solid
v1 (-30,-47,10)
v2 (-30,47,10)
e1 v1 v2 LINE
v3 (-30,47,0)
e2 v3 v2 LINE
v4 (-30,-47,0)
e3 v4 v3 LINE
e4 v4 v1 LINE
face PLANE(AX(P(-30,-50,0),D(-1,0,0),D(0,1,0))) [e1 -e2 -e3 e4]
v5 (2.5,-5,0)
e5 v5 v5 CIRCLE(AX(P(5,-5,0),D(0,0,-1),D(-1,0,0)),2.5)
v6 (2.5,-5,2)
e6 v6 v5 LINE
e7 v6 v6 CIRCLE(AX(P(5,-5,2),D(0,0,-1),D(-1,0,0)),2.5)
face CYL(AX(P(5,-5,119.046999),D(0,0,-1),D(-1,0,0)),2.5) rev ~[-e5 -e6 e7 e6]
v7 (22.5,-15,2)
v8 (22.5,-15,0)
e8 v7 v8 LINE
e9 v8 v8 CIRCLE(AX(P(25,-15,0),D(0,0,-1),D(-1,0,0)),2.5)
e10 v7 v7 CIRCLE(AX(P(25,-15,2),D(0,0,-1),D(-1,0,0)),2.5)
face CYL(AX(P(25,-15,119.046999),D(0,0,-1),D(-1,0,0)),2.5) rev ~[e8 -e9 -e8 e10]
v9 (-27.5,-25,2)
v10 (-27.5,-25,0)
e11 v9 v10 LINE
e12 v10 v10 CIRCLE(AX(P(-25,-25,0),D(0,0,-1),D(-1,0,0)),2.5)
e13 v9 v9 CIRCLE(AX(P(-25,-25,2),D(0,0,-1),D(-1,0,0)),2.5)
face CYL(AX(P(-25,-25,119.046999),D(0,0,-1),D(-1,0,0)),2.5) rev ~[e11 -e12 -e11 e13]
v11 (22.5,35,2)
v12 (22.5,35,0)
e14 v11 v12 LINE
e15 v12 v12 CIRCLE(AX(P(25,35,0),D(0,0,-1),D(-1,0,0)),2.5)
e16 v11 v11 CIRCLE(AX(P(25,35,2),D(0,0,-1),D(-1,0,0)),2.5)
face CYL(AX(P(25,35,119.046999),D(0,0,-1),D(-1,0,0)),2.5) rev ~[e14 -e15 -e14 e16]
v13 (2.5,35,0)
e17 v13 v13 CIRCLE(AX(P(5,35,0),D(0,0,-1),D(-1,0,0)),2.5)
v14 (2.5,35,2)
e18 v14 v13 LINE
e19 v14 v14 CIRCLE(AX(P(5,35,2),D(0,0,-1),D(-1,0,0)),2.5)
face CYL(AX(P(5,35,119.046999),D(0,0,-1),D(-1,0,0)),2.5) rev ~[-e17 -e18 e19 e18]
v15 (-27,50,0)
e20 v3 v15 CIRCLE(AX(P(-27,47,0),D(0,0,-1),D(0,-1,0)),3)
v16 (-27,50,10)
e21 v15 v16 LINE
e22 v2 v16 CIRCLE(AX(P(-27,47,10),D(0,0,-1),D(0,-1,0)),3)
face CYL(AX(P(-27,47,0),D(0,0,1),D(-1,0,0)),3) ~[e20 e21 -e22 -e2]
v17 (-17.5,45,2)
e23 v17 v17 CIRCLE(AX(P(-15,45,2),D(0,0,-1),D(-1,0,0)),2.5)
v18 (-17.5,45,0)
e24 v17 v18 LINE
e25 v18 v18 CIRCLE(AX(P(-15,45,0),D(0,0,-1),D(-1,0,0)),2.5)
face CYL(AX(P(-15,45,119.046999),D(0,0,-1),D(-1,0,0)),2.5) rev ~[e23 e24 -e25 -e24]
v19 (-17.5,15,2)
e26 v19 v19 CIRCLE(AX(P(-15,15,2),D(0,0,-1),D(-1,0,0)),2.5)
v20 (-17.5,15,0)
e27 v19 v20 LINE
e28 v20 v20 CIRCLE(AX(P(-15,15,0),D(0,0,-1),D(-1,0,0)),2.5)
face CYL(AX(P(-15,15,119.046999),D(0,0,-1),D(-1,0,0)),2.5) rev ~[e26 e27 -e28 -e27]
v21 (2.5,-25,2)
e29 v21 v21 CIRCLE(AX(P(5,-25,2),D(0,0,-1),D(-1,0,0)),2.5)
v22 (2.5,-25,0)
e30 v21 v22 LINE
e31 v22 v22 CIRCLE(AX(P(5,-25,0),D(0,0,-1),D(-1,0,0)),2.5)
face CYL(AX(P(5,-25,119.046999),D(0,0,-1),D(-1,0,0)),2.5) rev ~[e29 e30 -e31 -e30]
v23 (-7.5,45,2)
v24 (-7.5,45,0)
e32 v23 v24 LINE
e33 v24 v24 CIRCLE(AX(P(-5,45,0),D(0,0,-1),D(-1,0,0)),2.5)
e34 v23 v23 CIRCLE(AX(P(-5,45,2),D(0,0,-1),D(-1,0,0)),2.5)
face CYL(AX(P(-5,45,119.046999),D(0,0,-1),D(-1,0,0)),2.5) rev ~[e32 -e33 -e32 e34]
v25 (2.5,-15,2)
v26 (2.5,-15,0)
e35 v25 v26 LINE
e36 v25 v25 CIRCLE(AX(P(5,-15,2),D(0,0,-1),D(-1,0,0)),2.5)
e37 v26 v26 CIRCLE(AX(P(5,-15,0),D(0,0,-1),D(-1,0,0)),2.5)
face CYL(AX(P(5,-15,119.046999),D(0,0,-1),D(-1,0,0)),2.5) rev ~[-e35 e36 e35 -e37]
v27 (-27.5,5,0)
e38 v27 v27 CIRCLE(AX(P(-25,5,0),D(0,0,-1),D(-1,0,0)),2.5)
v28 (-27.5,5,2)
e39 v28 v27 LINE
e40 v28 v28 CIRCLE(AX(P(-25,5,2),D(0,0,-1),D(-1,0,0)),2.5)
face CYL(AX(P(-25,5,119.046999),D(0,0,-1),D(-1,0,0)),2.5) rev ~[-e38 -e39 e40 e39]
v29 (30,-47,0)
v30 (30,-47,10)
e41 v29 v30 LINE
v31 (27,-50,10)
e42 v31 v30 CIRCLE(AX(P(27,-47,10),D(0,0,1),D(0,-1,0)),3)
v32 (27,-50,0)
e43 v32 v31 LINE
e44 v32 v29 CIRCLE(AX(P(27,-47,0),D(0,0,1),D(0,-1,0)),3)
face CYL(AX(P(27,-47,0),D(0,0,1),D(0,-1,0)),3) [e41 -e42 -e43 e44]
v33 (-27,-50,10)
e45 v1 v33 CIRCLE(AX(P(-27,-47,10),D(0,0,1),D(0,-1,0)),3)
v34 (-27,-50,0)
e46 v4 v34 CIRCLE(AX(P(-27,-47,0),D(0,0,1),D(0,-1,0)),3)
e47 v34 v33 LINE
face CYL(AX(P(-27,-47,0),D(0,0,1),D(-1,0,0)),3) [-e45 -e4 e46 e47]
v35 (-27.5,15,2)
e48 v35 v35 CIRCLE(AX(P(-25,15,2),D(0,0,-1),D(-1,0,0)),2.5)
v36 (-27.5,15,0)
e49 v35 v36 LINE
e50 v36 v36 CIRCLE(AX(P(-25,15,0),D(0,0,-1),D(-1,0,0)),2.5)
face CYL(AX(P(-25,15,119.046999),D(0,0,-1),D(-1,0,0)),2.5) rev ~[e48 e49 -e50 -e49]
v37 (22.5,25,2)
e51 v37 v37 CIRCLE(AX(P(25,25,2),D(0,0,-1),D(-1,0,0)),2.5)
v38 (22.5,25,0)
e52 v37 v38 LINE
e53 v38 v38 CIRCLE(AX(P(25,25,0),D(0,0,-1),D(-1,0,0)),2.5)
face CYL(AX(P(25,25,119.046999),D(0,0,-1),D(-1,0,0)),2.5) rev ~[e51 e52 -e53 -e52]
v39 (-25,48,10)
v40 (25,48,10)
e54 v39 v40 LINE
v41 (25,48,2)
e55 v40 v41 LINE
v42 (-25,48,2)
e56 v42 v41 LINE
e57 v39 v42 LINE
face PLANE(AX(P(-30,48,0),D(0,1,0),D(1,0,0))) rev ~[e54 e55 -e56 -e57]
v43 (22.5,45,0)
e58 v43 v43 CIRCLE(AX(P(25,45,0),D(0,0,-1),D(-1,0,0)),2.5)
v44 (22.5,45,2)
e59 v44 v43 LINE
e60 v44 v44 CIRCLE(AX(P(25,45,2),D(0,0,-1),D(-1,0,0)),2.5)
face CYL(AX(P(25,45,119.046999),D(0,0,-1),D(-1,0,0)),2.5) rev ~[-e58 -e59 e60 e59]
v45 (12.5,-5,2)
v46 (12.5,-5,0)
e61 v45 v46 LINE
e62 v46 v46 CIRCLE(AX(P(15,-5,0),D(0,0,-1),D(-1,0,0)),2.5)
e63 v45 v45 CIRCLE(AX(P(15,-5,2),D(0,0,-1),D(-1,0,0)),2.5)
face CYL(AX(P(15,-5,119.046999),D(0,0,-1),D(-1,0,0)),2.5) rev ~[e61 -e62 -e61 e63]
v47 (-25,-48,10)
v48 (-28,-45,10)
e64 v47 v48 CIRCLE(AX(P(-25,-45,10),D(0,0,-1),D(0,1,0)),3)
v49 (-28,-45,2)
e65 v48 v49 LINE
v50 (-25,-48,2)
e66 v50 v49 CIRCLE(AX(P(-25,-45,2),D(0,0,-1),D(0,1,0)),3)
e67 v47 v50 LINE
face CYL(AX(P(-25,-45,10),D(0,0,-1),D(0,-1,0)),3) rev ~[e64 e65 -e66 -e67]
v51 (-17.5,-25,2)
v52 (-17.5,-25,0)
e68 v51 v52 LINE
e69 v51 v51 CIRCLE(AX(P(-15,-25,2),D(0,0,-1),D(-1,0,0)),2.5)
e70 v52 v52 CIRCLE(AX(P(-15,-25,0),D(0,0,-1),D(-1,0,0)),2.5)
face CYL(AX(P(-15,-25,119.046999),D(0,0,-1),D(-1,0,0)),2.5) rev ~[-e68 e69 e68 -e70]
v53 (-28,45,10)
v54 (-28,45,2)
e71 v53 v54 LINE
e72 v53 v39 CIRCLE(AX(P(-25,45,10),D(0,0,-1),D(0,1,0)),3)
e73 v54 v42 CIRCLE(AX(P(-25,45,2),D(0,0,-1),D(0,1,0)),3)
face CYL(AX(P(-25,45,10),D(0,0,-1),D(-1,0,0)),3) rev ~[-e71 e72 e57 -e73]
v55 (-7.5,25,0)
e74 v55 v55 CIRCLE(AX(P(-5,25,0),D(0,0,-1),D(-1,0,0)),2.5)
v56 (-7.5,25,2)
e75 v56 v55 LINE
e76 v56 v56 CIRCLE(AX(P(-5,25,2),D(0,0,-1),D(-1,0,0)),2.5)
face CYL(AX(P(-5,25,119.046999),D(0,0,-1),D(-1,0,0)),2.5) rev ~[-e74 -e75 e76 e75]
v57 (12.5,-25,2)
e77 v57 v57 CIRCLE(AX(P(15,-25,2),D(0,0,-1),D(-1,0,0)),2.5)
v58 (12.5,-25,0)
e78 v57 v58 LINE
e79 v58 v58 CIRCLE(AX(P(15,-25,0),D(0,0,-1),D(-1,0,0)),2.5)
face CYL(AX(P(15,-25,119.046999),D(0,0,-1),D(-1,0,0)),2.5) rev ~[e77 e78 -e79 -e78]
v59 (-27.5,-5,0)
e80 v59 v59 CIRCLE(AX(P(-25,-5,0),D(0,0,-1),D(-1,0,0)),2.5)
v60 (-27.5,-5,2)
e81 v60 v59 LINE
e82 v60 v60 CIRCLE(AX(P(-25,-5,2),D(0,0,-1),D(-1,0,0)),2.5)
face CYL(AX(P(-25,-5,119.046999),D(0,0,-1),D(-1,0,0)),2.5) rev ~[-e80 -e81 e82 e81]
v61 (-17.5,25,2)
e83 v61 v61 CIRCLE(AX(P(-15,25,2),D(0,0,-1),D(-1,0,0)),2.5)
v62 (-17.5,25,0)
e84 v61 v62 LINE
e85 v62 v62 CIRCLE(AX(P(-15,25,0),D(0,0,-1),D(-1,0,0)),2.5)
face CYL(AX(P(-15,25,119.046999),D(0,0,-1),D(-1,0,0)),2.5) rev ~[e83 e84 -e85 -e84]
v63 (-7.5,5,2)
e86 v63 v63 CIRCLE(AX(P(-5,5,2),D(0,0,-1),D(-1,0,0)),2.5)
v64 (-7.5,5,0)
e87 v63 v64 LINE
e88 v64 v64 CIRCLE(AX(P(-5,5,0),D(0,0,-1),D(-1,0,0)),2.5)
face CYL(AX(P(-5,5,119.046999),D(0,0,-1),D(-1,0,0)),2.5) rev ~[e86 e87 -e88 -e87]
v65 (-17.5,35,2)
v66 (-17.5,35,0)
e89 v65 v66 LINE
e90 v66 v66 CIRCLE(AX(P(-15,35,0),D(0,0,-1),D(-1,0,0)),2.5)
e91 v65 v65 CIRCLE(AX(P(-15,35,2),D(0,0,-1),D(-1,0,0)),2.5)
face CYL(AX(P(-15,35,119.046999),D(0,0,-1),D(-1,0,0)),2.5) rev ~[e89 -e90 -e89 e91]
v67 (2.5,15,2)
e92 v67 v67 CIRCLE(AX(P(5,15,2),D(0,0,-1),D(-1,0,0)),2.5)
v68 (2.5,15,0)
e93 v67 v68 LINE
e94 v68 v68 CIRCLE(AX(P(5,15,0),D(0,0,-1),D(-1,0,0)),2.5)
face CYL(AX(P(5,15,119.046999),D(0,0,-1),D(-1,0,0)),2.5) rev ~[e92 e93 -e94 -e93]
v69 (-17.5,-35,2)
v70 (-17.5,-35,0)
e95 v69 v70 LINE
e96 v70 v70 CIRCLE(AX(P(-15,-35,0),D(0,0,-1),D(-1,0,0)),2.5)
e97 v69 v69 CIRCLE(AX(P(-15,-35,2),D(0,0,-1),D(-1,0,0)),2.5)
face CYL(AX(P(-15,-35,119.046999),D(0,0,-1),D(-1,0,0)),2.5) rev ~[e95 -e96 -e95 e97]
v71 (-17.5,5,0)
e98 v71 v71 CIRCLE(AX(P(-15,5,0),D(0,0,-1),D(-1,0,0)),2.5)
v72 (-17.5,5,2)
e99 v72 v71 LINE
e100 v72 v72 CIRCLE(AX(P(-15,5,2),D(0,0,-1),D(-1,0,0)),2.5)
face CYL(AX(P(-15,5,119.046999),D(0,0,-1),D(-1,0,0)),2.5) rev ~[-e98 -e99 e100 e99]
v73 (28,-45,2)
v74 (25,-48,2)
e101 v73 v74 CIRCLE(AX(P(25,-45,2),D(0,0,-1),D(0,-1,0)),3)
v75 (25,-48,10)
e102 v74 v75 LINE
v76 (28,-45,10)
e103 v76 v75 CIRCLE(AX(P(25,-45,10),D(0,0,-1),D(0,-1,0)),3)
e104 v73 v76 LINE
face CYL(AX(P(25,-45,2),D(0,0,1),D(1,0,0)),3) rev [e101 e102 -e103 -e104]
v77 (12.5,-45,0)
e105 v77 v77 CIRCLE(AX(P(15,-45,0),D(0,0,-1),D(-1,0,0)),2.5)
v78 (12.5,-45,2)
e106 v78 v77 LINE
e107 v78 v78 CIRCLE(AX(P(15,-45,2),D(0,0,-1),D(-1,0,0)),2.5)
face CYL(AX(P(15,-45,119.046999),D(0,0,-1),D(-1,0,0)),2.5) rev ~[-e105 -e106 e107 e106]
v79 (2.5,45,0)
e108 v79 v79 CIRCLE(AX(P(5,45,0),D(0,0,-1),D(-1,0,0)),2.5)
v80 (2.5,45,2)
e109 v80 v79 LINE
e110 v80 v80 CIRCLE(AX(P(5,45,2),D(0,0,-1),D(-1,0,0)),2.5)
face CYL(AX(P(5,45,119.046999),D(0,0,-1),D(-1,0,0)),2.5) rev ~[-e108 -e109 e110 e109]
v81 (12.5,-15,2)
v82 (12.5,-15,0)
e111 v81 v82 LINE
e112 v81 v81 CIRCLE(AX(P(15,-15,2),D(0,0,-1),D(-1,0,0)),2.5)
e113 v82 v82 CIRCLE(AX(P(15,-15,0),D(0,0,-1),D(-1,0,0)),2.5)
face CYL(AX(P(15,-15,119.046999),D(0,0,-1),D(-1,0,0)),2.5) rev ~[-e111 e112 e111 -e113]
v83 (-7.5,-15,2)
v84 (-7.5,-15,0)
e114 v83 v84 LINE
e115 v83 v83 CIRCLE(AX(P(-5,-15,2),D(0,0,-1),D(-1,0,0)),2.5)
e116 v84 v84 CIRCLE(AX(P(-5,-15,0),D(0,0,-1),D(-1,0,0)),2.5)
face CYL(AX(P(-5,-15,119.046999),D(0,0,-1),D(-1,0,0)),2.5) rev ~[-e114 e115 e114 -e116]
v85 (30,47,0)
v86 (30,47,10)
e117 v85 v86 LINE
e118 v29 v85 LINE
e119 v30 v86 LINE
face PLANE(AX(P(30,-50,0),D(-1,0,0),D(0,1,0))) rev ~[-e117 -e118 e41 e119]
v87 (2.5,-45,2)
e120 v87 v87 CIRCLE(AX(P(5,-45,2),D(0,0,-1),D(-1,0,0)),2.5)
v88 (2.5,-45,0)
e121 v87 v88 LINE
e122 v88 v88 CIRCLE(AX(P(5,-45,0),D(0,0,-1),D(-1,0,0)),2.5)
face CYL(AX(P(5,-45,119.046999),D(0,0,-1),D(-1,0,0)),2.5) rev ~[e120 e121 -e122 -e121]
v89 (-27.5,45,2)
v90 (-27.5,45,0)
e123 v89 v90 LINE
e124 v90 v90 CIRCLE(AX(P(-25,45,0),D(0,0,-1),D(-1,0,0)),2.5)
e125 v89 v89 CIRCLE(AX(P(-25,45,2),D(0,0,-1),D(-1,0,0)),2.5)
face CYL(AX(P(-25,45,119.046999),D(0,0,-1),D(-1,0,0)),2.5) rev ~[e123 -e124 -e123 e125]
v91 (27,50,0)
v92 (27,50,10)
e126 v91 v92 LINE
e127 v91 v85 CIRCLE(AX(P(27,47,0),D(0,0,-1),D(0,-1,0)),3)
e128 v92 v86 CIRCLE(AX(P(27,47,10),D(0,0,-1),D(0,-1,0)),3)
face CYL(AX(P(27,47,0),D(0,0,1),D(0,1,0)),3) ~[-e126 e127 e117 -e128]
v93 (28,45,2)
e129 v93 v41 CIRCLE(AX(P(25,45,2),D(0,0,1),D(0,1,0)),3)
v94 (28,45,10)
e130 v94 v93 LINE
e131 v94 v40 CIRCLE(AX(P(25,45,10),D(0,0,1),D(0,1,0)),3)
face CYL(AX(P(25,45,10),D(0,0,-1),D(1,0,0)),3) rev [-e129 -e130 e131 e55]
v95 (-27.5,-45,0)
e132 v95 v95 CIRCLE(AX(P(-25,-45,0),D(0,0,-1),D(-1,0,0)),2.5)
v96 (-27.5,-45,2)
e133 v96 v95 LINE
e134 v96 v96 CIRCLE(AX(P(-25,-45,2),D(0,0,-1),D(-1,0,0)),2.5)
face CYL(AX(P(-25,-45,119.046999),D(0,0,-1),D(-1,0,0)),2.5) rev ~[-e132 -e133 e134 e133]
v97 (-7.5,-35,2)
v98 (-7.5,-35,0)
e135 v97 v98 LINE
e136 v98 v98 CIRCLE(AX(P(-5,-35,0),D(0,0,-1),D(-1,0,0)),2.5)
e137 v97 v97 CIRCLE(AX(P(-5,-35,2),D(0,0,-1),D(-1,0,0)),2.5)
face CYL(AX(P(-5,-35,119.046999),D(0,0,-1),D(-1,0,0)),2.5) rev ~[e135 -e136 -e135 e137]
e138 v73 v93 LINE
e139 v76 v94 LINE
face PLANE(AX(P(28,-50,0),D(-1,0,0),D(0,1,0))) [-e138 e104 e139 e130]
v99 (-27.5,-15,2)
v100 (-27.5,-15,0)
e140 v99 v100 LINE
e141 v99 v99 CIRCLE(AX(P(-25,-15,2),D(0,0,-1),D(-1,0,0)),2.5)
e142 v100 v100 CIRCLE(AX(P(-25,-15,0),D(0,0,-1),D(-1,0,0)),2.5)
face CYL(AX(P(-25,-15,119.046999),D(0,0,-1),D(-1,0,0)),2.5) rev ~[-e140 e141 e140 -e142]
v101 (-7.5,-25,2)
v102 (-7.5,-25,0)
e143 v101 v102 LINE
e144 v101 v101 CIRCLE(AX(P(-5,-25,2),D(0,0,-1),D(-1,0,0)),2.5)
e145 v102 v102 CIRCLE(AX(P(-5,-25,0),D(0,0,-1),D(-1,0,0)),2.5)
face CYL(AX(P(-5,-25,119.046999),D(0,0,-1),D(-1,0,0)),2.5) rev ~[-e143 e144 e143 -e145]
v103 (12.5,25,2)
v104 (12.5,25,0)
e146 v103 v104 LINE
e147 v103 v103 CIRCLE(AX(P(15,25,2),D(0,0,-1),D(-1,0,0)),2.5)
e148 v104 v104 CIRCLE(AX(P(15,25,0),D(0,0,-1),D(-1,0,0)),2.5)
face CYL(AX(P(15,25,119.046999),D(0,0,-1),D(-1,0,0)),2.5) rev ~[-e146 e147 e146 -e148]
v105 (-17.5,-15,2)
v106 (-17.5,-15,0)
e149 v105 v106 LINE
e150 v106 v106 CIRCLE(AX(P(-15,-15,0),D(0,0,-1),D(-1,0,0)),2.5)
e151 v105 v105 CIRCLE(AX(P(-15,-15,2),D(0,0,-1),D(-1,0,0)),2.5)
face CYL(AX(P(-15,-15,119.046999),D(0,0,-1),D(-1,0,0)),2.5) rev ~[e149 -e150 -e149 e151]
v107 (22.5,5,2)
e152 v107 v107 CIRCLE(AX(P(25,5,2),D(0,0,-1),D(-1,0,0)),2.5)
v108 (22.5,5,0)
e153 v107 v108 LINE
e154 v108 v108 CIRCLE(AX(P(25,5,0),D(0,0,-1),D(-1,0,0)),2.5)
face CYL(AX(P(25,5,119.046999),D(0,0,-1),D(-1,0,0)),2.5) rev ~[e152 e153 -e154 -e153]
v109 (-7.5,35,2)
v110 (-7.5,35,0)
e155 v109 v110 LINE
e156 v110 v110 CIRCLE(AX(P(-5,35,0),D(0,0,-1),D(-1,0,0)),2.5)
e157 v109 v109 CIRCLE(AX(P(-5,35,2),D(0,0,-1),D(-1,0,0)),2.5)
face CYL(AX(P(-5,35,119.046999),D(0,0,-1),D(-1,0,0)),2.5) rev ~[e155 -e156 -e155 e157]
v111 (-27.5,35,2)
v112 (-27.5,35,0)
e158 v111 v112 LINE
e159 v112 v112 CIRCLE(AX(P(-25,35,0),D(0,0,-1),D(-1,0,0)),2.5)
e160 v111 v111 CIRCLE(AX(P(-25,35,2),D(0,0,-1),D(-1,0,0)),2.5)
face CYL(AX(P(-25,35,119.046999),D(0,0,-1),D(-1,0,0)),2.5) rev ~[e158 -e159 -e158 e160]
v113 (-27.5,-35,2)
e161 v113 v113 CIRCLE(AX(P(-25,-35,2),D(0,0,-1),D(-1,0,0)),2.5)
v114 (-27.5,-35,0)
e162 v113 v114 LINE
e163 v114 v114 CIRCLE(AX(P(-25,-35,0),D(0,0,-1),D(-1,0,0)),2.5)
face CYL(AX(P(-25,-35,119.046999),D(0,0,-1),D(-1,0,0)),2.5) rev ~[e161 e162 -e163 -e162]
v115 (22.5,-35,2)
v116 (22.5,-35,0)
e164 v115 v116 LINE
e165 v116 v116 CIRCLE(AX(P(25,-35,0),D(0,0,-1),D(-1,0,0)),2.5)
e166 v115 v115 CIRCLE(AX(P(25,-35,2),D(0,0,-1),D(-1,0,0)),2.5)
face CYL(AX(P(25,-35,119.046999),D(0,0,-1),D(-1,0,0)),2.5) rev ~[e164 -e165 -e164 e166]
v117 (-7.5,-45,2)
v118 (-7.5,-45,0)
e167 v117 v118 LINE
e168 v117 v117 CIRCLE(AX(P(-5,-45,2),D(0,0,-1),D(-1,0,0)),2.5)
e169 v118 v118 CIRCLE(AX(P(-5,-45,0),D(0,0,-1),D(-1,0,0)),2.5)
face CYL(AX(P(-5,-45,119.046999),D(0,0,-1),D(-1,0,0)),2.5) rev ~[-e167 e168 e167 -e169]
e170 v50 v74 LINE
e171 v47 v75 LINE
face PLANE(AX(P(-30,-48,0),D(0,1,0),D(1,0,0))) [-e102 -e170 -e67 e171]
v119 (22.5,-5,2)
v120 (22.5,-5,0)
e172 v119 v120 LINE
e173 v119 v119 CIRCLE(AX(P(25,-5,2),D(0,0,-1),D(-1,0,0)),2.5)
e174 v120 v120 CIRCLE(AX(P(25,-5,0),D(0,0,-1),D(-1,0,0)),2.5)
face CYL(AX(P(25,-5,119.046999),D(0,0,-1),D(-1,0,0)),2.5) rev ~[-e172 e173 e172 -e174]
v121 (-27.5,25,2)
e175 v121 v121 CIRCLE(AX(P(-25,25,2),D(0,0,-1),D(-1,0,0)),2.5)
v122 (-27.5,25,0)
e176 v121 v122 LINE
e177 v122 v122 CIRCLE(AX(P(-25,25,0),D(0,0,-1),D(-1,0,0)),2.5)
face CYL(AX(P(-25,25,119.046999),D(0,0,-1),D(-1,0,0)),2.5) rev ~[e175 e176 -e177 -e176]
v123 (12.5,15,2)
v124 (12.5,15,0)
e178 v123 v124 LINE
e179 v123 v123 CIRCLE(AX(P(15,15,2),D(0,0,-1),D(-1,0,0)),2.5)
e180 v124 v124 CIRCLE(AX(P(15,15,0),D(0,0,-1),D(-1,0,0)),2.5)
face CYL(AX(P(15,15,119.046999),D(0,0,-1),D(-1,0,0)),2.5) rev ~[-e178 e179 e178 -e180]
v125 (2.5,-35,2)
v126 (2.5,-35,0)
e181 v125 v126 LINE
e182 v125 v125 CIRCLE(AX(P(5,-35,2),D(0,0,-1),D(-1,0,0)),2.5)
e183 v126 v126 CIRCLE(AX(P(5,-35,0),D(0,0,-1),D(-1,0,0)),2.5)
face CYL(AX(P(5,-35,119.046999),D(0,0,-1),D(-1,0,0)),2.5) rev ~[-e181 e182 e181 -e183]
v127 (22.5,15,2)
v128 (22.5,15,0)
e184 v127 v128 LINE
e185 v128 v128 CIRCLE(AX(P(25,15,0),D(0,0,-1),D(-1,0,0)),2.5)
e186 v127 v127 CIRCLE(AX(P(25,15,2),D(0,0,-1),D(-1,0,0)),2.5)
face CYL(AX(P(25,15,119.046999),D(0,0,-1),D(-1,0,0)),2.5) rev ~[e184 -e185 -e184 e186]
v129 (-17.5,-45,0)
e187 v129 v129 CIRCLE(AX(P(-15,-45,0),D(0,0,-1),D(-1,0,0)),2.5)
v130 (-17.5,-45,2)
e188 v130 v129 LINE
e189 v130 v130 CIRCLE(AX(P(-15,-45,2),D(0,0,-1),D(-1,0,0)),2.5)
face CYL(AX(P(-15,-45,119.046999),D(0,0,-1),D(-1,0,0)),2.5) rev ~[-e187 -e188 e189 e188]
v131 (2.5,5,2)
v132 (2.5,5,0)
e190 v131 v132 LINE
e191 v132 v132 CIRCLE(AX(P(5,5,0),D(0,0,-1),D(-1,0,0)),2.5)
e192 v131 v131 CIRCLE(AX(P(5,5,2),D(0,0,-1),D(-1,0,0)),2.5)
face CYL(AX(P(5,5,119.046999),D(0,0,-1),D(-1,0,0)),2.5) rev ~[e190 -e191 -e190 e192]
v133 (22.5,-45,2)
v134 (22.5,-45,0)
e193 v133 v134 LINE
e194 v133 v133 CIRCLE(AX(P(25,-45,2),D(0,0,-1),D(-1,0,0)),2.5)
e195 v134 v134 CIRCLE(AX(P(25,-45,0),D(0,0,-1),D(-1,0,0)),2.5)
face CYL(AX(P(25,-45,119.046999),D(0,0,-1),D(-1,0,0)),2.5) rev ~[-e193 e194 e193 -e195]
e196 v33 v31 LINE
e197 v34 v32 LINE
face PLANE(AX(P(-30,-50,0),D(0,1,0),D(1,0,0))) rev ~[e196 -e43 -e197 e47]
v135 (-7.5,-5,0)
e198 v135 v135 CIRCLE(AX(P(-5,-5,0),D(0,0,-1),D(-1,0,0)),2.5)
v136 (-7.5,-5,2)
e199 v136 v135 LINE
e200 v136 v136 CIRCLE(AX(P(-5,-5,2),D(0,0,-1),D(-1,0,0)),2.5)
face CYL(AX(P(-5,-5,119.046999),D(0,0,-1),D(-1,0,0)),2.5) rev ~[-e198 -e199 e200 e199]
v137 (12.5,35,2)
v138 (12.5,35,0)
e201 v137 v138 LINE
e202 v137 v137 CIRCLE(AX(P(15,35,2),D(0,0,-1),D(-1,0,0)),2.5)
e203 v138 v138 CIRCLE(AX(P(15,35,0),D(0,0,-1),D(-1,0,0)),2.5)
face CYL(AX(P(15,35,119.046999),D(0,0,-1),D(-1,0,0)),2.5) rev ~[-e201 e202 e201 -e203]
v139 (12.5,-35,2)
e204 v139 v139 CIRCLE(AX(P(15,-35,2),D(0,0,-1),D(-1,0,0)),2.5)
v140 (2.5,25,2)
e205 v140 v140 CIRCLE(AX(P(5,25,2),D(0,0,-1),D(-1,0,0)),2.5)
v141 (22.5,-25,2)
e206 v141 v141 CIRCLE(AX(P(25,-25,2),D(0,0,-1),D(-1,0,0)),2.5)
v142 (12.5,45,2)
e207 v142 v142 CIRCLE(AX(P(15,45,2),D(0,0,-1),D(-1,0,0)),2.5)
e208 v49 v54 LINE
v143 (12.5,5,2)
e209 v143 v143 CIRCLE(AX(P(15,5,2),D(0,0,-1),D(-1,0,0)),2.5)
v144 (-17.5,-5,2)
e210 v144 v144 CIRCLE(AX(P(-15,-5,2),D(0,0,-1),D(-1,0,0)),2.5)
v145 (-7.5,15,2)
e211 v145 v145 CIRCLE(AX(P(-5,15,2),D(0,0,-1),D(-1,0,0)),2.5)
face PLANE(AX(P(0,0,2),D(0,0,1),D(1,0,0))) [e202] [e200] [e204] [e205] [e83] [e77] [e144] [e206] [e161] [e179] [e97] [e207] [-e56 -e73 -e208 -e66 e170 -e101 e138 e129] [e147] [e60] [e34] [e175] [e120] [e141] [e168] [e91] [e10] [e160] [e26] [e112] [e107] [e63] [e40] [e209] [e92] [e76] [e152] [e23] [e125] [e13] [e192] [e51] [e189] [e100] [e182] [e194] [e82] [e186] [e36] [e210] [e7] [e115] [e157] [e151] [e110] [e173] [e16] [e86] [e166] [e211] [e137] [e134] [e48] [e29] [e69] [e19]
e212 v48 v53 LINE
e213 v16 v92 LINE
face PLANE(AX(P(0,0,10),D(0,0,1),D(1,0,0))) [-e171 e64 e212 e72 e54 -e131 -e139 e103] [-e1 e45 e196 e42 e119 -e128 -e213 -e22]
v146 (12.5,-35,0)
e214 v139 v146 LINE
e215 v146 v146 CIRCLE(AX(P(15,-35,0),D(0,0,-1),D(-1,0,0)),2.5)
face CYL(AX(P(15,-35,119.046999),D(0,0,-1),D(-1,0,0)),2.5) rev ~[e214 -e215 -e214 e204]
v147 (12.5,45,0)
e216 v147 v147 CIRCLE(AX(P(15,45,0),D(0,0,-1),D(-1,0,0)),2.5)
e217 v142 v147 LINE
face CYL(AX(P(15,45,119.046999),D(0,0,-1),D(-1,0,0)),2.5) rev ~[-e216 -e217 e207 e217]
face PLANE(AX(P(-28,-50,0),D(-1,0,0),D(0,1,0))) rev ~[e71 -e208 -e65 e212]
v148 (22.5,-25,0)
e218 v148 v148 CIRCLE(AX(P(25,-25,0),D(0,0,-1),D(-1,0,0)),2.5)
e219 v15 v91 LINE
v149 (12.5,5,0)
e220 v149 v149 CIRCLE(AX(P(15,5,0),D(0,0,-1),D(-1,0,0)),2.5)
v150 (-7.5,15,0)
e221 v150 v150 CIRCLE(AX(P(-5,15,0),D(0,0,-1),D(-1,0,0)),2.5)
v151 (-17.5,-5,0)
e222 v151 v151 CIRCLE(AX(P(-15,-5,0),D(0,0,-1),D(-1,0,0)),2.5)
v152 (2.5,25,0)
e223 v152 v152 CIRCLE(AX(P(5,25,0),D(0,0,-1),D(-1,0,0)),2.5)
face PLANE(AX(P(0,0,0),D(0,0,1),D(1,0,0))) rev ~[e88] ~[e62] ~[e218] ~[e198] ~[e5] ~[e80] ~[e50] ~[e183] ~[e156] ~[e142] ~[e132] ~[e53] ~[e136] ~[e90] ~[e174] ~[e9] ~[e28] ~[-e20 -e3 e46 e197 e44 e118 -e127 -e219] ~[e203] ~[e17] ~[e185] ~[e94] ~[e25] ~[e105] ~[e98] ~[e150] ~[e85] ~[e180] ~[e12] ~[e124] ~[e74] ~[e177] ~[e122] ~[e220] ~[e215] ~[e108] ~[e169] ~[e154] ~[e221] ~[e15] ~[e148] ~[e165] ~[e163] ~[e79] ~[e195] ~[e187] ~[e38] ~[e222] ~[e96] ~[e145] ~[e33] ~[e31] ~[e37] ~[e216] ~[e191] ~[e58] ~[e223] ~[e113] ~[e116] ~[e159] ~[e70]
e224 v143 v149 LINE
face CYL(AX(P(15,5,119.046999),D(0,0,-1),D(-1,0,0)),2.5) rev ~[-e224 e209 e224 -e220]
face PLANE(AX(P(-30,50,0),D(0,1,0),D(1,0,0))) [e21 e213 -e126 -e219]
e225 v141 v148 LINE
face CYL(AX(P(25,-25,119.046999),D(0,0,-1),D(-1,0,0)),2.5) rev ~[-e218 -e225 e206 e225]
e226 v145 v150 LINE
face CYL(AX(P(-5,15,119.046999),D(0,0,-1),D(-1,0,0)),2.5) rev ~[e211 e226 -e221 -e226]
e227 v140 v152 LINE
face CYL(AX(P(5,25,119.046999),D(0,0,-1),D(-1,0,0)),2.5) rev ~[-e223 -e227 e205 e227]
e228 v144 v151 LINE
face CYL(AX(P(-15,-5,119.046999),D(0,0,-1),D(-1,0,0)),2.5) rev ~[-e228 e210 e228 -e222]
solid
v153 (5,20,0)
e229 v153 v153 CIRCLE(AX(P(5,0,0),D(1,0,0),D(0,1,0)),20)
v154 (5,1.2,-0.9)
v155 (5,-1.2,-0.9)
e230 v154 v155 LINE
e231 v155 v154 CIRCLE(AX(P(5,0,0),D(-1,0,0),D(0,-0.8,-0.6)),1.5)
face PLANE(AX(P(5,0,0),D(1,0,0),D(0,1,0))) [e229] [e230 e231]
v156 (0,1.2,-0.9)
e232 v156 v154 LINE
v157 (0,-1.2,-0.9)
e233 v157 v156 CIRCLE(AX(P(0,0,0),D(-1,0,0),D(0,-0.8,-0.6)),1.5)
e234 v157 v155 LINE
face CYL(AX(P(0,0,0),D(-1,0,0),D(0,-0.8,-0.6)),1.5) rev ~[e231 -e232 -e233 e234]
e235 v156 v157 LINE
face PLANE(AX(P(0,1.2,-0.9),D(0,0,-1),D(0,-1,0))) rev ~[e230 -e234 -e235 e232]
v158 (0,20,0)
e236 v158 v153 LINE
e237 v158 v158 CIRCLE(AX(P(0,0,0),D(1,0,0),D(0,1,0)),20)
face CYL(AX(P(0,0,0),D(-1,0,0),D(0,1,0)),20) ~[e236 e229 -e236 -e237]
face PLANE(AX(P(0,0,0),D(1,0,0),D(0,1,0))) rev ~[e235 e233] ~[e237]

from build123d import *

# Parameters (mm, degrees)
F0_W     = 60
F0_H     = 100
F1_DEPTH = 10
F2_T     = -2
F4_D     = 5
F5_R     = 3
F6_R     = 20
F7_DEPTH = 5


with BuildPart() as f1:
    # F0 (on Top) → F1 (new body)
    with BuildSketch(Plane.XY):
        Rectangle(F0_W, F0_H)
    extrude(amount=F1_DEPTH)

    # F2
    f2_openings = [f1.faces().sort_by_distance(p)[0] for p in [
        (0, 0, 10),
    ]]
    offset(amount=F2_T, openings=f2_openings)

    # F4 (through all)
    with Locations(Plane.XY.offset(2)):
        with Locations((-15, 35), (15, 35), (-25, 45), (-15, 45), (-5, 45), (5, 45), (15, 45), (25, 45), (5, 15), (-15, 25), (25, -5), (-15, 15), (5, -15), (-15, 5), (25, 25), (15, -15), (-25, -15), (15, -25), (-25, 15), (5, -45), (15, 25), (-25, -45), (-15, -45), (15, 15), (-5, -35), (25, -45), (-25, 35), (-5, 5), (-5, -5), (15, -45), (25, 35), (5, -5), (-25, -5), (15, -5), (-25, -25), (-15, -35), (-5, 15), (25, -25), (-5, -15), (5, 5), (5, -25), (25, 15), (5, -35), (25, 5), (-5, -25), (-25, -35), (-15, -5), (-15, -25), (5, 35), (-5, 35), (-25, 25), (-5, 25), (25, -35), (-15, -15), (5, 25), (15, -35), (25, -15), (-25, 5), (15, 5), (-5, -45)):
            Hole(F4_D / 2)

    # F5
    f5_edges = [f1.edges().sort_by_distance(p)[0] for p in [
        (-28, 48, 6),
        (28, 48, 6),
        (-28, -48, 6),
        (28, -48, 6),
        (-30, -50, 5),
        (30, -50, 5),
        (30, 50, 5),
        (-30, 50, 5),
    ]]
    fillet(f5_edges, radius=F5_R)


with BuildPart() as f7:
    # F6 (on Right) → F7 (new body)
    with BuildSketch(Plane.YZ):
        Circle(F6_R)
        with BuildLine():
            ThreePointArc((-1.2, -0.9), (0, 1.5), (1.2, -0.9))
            Line((1.2, -0.9), (-1.2, -0.9))
        make_face(mode=Mode.SUBTRACT)
    extrude(amount=F7_DEPTH)


solid = Compound([f1.part, f7.part])
